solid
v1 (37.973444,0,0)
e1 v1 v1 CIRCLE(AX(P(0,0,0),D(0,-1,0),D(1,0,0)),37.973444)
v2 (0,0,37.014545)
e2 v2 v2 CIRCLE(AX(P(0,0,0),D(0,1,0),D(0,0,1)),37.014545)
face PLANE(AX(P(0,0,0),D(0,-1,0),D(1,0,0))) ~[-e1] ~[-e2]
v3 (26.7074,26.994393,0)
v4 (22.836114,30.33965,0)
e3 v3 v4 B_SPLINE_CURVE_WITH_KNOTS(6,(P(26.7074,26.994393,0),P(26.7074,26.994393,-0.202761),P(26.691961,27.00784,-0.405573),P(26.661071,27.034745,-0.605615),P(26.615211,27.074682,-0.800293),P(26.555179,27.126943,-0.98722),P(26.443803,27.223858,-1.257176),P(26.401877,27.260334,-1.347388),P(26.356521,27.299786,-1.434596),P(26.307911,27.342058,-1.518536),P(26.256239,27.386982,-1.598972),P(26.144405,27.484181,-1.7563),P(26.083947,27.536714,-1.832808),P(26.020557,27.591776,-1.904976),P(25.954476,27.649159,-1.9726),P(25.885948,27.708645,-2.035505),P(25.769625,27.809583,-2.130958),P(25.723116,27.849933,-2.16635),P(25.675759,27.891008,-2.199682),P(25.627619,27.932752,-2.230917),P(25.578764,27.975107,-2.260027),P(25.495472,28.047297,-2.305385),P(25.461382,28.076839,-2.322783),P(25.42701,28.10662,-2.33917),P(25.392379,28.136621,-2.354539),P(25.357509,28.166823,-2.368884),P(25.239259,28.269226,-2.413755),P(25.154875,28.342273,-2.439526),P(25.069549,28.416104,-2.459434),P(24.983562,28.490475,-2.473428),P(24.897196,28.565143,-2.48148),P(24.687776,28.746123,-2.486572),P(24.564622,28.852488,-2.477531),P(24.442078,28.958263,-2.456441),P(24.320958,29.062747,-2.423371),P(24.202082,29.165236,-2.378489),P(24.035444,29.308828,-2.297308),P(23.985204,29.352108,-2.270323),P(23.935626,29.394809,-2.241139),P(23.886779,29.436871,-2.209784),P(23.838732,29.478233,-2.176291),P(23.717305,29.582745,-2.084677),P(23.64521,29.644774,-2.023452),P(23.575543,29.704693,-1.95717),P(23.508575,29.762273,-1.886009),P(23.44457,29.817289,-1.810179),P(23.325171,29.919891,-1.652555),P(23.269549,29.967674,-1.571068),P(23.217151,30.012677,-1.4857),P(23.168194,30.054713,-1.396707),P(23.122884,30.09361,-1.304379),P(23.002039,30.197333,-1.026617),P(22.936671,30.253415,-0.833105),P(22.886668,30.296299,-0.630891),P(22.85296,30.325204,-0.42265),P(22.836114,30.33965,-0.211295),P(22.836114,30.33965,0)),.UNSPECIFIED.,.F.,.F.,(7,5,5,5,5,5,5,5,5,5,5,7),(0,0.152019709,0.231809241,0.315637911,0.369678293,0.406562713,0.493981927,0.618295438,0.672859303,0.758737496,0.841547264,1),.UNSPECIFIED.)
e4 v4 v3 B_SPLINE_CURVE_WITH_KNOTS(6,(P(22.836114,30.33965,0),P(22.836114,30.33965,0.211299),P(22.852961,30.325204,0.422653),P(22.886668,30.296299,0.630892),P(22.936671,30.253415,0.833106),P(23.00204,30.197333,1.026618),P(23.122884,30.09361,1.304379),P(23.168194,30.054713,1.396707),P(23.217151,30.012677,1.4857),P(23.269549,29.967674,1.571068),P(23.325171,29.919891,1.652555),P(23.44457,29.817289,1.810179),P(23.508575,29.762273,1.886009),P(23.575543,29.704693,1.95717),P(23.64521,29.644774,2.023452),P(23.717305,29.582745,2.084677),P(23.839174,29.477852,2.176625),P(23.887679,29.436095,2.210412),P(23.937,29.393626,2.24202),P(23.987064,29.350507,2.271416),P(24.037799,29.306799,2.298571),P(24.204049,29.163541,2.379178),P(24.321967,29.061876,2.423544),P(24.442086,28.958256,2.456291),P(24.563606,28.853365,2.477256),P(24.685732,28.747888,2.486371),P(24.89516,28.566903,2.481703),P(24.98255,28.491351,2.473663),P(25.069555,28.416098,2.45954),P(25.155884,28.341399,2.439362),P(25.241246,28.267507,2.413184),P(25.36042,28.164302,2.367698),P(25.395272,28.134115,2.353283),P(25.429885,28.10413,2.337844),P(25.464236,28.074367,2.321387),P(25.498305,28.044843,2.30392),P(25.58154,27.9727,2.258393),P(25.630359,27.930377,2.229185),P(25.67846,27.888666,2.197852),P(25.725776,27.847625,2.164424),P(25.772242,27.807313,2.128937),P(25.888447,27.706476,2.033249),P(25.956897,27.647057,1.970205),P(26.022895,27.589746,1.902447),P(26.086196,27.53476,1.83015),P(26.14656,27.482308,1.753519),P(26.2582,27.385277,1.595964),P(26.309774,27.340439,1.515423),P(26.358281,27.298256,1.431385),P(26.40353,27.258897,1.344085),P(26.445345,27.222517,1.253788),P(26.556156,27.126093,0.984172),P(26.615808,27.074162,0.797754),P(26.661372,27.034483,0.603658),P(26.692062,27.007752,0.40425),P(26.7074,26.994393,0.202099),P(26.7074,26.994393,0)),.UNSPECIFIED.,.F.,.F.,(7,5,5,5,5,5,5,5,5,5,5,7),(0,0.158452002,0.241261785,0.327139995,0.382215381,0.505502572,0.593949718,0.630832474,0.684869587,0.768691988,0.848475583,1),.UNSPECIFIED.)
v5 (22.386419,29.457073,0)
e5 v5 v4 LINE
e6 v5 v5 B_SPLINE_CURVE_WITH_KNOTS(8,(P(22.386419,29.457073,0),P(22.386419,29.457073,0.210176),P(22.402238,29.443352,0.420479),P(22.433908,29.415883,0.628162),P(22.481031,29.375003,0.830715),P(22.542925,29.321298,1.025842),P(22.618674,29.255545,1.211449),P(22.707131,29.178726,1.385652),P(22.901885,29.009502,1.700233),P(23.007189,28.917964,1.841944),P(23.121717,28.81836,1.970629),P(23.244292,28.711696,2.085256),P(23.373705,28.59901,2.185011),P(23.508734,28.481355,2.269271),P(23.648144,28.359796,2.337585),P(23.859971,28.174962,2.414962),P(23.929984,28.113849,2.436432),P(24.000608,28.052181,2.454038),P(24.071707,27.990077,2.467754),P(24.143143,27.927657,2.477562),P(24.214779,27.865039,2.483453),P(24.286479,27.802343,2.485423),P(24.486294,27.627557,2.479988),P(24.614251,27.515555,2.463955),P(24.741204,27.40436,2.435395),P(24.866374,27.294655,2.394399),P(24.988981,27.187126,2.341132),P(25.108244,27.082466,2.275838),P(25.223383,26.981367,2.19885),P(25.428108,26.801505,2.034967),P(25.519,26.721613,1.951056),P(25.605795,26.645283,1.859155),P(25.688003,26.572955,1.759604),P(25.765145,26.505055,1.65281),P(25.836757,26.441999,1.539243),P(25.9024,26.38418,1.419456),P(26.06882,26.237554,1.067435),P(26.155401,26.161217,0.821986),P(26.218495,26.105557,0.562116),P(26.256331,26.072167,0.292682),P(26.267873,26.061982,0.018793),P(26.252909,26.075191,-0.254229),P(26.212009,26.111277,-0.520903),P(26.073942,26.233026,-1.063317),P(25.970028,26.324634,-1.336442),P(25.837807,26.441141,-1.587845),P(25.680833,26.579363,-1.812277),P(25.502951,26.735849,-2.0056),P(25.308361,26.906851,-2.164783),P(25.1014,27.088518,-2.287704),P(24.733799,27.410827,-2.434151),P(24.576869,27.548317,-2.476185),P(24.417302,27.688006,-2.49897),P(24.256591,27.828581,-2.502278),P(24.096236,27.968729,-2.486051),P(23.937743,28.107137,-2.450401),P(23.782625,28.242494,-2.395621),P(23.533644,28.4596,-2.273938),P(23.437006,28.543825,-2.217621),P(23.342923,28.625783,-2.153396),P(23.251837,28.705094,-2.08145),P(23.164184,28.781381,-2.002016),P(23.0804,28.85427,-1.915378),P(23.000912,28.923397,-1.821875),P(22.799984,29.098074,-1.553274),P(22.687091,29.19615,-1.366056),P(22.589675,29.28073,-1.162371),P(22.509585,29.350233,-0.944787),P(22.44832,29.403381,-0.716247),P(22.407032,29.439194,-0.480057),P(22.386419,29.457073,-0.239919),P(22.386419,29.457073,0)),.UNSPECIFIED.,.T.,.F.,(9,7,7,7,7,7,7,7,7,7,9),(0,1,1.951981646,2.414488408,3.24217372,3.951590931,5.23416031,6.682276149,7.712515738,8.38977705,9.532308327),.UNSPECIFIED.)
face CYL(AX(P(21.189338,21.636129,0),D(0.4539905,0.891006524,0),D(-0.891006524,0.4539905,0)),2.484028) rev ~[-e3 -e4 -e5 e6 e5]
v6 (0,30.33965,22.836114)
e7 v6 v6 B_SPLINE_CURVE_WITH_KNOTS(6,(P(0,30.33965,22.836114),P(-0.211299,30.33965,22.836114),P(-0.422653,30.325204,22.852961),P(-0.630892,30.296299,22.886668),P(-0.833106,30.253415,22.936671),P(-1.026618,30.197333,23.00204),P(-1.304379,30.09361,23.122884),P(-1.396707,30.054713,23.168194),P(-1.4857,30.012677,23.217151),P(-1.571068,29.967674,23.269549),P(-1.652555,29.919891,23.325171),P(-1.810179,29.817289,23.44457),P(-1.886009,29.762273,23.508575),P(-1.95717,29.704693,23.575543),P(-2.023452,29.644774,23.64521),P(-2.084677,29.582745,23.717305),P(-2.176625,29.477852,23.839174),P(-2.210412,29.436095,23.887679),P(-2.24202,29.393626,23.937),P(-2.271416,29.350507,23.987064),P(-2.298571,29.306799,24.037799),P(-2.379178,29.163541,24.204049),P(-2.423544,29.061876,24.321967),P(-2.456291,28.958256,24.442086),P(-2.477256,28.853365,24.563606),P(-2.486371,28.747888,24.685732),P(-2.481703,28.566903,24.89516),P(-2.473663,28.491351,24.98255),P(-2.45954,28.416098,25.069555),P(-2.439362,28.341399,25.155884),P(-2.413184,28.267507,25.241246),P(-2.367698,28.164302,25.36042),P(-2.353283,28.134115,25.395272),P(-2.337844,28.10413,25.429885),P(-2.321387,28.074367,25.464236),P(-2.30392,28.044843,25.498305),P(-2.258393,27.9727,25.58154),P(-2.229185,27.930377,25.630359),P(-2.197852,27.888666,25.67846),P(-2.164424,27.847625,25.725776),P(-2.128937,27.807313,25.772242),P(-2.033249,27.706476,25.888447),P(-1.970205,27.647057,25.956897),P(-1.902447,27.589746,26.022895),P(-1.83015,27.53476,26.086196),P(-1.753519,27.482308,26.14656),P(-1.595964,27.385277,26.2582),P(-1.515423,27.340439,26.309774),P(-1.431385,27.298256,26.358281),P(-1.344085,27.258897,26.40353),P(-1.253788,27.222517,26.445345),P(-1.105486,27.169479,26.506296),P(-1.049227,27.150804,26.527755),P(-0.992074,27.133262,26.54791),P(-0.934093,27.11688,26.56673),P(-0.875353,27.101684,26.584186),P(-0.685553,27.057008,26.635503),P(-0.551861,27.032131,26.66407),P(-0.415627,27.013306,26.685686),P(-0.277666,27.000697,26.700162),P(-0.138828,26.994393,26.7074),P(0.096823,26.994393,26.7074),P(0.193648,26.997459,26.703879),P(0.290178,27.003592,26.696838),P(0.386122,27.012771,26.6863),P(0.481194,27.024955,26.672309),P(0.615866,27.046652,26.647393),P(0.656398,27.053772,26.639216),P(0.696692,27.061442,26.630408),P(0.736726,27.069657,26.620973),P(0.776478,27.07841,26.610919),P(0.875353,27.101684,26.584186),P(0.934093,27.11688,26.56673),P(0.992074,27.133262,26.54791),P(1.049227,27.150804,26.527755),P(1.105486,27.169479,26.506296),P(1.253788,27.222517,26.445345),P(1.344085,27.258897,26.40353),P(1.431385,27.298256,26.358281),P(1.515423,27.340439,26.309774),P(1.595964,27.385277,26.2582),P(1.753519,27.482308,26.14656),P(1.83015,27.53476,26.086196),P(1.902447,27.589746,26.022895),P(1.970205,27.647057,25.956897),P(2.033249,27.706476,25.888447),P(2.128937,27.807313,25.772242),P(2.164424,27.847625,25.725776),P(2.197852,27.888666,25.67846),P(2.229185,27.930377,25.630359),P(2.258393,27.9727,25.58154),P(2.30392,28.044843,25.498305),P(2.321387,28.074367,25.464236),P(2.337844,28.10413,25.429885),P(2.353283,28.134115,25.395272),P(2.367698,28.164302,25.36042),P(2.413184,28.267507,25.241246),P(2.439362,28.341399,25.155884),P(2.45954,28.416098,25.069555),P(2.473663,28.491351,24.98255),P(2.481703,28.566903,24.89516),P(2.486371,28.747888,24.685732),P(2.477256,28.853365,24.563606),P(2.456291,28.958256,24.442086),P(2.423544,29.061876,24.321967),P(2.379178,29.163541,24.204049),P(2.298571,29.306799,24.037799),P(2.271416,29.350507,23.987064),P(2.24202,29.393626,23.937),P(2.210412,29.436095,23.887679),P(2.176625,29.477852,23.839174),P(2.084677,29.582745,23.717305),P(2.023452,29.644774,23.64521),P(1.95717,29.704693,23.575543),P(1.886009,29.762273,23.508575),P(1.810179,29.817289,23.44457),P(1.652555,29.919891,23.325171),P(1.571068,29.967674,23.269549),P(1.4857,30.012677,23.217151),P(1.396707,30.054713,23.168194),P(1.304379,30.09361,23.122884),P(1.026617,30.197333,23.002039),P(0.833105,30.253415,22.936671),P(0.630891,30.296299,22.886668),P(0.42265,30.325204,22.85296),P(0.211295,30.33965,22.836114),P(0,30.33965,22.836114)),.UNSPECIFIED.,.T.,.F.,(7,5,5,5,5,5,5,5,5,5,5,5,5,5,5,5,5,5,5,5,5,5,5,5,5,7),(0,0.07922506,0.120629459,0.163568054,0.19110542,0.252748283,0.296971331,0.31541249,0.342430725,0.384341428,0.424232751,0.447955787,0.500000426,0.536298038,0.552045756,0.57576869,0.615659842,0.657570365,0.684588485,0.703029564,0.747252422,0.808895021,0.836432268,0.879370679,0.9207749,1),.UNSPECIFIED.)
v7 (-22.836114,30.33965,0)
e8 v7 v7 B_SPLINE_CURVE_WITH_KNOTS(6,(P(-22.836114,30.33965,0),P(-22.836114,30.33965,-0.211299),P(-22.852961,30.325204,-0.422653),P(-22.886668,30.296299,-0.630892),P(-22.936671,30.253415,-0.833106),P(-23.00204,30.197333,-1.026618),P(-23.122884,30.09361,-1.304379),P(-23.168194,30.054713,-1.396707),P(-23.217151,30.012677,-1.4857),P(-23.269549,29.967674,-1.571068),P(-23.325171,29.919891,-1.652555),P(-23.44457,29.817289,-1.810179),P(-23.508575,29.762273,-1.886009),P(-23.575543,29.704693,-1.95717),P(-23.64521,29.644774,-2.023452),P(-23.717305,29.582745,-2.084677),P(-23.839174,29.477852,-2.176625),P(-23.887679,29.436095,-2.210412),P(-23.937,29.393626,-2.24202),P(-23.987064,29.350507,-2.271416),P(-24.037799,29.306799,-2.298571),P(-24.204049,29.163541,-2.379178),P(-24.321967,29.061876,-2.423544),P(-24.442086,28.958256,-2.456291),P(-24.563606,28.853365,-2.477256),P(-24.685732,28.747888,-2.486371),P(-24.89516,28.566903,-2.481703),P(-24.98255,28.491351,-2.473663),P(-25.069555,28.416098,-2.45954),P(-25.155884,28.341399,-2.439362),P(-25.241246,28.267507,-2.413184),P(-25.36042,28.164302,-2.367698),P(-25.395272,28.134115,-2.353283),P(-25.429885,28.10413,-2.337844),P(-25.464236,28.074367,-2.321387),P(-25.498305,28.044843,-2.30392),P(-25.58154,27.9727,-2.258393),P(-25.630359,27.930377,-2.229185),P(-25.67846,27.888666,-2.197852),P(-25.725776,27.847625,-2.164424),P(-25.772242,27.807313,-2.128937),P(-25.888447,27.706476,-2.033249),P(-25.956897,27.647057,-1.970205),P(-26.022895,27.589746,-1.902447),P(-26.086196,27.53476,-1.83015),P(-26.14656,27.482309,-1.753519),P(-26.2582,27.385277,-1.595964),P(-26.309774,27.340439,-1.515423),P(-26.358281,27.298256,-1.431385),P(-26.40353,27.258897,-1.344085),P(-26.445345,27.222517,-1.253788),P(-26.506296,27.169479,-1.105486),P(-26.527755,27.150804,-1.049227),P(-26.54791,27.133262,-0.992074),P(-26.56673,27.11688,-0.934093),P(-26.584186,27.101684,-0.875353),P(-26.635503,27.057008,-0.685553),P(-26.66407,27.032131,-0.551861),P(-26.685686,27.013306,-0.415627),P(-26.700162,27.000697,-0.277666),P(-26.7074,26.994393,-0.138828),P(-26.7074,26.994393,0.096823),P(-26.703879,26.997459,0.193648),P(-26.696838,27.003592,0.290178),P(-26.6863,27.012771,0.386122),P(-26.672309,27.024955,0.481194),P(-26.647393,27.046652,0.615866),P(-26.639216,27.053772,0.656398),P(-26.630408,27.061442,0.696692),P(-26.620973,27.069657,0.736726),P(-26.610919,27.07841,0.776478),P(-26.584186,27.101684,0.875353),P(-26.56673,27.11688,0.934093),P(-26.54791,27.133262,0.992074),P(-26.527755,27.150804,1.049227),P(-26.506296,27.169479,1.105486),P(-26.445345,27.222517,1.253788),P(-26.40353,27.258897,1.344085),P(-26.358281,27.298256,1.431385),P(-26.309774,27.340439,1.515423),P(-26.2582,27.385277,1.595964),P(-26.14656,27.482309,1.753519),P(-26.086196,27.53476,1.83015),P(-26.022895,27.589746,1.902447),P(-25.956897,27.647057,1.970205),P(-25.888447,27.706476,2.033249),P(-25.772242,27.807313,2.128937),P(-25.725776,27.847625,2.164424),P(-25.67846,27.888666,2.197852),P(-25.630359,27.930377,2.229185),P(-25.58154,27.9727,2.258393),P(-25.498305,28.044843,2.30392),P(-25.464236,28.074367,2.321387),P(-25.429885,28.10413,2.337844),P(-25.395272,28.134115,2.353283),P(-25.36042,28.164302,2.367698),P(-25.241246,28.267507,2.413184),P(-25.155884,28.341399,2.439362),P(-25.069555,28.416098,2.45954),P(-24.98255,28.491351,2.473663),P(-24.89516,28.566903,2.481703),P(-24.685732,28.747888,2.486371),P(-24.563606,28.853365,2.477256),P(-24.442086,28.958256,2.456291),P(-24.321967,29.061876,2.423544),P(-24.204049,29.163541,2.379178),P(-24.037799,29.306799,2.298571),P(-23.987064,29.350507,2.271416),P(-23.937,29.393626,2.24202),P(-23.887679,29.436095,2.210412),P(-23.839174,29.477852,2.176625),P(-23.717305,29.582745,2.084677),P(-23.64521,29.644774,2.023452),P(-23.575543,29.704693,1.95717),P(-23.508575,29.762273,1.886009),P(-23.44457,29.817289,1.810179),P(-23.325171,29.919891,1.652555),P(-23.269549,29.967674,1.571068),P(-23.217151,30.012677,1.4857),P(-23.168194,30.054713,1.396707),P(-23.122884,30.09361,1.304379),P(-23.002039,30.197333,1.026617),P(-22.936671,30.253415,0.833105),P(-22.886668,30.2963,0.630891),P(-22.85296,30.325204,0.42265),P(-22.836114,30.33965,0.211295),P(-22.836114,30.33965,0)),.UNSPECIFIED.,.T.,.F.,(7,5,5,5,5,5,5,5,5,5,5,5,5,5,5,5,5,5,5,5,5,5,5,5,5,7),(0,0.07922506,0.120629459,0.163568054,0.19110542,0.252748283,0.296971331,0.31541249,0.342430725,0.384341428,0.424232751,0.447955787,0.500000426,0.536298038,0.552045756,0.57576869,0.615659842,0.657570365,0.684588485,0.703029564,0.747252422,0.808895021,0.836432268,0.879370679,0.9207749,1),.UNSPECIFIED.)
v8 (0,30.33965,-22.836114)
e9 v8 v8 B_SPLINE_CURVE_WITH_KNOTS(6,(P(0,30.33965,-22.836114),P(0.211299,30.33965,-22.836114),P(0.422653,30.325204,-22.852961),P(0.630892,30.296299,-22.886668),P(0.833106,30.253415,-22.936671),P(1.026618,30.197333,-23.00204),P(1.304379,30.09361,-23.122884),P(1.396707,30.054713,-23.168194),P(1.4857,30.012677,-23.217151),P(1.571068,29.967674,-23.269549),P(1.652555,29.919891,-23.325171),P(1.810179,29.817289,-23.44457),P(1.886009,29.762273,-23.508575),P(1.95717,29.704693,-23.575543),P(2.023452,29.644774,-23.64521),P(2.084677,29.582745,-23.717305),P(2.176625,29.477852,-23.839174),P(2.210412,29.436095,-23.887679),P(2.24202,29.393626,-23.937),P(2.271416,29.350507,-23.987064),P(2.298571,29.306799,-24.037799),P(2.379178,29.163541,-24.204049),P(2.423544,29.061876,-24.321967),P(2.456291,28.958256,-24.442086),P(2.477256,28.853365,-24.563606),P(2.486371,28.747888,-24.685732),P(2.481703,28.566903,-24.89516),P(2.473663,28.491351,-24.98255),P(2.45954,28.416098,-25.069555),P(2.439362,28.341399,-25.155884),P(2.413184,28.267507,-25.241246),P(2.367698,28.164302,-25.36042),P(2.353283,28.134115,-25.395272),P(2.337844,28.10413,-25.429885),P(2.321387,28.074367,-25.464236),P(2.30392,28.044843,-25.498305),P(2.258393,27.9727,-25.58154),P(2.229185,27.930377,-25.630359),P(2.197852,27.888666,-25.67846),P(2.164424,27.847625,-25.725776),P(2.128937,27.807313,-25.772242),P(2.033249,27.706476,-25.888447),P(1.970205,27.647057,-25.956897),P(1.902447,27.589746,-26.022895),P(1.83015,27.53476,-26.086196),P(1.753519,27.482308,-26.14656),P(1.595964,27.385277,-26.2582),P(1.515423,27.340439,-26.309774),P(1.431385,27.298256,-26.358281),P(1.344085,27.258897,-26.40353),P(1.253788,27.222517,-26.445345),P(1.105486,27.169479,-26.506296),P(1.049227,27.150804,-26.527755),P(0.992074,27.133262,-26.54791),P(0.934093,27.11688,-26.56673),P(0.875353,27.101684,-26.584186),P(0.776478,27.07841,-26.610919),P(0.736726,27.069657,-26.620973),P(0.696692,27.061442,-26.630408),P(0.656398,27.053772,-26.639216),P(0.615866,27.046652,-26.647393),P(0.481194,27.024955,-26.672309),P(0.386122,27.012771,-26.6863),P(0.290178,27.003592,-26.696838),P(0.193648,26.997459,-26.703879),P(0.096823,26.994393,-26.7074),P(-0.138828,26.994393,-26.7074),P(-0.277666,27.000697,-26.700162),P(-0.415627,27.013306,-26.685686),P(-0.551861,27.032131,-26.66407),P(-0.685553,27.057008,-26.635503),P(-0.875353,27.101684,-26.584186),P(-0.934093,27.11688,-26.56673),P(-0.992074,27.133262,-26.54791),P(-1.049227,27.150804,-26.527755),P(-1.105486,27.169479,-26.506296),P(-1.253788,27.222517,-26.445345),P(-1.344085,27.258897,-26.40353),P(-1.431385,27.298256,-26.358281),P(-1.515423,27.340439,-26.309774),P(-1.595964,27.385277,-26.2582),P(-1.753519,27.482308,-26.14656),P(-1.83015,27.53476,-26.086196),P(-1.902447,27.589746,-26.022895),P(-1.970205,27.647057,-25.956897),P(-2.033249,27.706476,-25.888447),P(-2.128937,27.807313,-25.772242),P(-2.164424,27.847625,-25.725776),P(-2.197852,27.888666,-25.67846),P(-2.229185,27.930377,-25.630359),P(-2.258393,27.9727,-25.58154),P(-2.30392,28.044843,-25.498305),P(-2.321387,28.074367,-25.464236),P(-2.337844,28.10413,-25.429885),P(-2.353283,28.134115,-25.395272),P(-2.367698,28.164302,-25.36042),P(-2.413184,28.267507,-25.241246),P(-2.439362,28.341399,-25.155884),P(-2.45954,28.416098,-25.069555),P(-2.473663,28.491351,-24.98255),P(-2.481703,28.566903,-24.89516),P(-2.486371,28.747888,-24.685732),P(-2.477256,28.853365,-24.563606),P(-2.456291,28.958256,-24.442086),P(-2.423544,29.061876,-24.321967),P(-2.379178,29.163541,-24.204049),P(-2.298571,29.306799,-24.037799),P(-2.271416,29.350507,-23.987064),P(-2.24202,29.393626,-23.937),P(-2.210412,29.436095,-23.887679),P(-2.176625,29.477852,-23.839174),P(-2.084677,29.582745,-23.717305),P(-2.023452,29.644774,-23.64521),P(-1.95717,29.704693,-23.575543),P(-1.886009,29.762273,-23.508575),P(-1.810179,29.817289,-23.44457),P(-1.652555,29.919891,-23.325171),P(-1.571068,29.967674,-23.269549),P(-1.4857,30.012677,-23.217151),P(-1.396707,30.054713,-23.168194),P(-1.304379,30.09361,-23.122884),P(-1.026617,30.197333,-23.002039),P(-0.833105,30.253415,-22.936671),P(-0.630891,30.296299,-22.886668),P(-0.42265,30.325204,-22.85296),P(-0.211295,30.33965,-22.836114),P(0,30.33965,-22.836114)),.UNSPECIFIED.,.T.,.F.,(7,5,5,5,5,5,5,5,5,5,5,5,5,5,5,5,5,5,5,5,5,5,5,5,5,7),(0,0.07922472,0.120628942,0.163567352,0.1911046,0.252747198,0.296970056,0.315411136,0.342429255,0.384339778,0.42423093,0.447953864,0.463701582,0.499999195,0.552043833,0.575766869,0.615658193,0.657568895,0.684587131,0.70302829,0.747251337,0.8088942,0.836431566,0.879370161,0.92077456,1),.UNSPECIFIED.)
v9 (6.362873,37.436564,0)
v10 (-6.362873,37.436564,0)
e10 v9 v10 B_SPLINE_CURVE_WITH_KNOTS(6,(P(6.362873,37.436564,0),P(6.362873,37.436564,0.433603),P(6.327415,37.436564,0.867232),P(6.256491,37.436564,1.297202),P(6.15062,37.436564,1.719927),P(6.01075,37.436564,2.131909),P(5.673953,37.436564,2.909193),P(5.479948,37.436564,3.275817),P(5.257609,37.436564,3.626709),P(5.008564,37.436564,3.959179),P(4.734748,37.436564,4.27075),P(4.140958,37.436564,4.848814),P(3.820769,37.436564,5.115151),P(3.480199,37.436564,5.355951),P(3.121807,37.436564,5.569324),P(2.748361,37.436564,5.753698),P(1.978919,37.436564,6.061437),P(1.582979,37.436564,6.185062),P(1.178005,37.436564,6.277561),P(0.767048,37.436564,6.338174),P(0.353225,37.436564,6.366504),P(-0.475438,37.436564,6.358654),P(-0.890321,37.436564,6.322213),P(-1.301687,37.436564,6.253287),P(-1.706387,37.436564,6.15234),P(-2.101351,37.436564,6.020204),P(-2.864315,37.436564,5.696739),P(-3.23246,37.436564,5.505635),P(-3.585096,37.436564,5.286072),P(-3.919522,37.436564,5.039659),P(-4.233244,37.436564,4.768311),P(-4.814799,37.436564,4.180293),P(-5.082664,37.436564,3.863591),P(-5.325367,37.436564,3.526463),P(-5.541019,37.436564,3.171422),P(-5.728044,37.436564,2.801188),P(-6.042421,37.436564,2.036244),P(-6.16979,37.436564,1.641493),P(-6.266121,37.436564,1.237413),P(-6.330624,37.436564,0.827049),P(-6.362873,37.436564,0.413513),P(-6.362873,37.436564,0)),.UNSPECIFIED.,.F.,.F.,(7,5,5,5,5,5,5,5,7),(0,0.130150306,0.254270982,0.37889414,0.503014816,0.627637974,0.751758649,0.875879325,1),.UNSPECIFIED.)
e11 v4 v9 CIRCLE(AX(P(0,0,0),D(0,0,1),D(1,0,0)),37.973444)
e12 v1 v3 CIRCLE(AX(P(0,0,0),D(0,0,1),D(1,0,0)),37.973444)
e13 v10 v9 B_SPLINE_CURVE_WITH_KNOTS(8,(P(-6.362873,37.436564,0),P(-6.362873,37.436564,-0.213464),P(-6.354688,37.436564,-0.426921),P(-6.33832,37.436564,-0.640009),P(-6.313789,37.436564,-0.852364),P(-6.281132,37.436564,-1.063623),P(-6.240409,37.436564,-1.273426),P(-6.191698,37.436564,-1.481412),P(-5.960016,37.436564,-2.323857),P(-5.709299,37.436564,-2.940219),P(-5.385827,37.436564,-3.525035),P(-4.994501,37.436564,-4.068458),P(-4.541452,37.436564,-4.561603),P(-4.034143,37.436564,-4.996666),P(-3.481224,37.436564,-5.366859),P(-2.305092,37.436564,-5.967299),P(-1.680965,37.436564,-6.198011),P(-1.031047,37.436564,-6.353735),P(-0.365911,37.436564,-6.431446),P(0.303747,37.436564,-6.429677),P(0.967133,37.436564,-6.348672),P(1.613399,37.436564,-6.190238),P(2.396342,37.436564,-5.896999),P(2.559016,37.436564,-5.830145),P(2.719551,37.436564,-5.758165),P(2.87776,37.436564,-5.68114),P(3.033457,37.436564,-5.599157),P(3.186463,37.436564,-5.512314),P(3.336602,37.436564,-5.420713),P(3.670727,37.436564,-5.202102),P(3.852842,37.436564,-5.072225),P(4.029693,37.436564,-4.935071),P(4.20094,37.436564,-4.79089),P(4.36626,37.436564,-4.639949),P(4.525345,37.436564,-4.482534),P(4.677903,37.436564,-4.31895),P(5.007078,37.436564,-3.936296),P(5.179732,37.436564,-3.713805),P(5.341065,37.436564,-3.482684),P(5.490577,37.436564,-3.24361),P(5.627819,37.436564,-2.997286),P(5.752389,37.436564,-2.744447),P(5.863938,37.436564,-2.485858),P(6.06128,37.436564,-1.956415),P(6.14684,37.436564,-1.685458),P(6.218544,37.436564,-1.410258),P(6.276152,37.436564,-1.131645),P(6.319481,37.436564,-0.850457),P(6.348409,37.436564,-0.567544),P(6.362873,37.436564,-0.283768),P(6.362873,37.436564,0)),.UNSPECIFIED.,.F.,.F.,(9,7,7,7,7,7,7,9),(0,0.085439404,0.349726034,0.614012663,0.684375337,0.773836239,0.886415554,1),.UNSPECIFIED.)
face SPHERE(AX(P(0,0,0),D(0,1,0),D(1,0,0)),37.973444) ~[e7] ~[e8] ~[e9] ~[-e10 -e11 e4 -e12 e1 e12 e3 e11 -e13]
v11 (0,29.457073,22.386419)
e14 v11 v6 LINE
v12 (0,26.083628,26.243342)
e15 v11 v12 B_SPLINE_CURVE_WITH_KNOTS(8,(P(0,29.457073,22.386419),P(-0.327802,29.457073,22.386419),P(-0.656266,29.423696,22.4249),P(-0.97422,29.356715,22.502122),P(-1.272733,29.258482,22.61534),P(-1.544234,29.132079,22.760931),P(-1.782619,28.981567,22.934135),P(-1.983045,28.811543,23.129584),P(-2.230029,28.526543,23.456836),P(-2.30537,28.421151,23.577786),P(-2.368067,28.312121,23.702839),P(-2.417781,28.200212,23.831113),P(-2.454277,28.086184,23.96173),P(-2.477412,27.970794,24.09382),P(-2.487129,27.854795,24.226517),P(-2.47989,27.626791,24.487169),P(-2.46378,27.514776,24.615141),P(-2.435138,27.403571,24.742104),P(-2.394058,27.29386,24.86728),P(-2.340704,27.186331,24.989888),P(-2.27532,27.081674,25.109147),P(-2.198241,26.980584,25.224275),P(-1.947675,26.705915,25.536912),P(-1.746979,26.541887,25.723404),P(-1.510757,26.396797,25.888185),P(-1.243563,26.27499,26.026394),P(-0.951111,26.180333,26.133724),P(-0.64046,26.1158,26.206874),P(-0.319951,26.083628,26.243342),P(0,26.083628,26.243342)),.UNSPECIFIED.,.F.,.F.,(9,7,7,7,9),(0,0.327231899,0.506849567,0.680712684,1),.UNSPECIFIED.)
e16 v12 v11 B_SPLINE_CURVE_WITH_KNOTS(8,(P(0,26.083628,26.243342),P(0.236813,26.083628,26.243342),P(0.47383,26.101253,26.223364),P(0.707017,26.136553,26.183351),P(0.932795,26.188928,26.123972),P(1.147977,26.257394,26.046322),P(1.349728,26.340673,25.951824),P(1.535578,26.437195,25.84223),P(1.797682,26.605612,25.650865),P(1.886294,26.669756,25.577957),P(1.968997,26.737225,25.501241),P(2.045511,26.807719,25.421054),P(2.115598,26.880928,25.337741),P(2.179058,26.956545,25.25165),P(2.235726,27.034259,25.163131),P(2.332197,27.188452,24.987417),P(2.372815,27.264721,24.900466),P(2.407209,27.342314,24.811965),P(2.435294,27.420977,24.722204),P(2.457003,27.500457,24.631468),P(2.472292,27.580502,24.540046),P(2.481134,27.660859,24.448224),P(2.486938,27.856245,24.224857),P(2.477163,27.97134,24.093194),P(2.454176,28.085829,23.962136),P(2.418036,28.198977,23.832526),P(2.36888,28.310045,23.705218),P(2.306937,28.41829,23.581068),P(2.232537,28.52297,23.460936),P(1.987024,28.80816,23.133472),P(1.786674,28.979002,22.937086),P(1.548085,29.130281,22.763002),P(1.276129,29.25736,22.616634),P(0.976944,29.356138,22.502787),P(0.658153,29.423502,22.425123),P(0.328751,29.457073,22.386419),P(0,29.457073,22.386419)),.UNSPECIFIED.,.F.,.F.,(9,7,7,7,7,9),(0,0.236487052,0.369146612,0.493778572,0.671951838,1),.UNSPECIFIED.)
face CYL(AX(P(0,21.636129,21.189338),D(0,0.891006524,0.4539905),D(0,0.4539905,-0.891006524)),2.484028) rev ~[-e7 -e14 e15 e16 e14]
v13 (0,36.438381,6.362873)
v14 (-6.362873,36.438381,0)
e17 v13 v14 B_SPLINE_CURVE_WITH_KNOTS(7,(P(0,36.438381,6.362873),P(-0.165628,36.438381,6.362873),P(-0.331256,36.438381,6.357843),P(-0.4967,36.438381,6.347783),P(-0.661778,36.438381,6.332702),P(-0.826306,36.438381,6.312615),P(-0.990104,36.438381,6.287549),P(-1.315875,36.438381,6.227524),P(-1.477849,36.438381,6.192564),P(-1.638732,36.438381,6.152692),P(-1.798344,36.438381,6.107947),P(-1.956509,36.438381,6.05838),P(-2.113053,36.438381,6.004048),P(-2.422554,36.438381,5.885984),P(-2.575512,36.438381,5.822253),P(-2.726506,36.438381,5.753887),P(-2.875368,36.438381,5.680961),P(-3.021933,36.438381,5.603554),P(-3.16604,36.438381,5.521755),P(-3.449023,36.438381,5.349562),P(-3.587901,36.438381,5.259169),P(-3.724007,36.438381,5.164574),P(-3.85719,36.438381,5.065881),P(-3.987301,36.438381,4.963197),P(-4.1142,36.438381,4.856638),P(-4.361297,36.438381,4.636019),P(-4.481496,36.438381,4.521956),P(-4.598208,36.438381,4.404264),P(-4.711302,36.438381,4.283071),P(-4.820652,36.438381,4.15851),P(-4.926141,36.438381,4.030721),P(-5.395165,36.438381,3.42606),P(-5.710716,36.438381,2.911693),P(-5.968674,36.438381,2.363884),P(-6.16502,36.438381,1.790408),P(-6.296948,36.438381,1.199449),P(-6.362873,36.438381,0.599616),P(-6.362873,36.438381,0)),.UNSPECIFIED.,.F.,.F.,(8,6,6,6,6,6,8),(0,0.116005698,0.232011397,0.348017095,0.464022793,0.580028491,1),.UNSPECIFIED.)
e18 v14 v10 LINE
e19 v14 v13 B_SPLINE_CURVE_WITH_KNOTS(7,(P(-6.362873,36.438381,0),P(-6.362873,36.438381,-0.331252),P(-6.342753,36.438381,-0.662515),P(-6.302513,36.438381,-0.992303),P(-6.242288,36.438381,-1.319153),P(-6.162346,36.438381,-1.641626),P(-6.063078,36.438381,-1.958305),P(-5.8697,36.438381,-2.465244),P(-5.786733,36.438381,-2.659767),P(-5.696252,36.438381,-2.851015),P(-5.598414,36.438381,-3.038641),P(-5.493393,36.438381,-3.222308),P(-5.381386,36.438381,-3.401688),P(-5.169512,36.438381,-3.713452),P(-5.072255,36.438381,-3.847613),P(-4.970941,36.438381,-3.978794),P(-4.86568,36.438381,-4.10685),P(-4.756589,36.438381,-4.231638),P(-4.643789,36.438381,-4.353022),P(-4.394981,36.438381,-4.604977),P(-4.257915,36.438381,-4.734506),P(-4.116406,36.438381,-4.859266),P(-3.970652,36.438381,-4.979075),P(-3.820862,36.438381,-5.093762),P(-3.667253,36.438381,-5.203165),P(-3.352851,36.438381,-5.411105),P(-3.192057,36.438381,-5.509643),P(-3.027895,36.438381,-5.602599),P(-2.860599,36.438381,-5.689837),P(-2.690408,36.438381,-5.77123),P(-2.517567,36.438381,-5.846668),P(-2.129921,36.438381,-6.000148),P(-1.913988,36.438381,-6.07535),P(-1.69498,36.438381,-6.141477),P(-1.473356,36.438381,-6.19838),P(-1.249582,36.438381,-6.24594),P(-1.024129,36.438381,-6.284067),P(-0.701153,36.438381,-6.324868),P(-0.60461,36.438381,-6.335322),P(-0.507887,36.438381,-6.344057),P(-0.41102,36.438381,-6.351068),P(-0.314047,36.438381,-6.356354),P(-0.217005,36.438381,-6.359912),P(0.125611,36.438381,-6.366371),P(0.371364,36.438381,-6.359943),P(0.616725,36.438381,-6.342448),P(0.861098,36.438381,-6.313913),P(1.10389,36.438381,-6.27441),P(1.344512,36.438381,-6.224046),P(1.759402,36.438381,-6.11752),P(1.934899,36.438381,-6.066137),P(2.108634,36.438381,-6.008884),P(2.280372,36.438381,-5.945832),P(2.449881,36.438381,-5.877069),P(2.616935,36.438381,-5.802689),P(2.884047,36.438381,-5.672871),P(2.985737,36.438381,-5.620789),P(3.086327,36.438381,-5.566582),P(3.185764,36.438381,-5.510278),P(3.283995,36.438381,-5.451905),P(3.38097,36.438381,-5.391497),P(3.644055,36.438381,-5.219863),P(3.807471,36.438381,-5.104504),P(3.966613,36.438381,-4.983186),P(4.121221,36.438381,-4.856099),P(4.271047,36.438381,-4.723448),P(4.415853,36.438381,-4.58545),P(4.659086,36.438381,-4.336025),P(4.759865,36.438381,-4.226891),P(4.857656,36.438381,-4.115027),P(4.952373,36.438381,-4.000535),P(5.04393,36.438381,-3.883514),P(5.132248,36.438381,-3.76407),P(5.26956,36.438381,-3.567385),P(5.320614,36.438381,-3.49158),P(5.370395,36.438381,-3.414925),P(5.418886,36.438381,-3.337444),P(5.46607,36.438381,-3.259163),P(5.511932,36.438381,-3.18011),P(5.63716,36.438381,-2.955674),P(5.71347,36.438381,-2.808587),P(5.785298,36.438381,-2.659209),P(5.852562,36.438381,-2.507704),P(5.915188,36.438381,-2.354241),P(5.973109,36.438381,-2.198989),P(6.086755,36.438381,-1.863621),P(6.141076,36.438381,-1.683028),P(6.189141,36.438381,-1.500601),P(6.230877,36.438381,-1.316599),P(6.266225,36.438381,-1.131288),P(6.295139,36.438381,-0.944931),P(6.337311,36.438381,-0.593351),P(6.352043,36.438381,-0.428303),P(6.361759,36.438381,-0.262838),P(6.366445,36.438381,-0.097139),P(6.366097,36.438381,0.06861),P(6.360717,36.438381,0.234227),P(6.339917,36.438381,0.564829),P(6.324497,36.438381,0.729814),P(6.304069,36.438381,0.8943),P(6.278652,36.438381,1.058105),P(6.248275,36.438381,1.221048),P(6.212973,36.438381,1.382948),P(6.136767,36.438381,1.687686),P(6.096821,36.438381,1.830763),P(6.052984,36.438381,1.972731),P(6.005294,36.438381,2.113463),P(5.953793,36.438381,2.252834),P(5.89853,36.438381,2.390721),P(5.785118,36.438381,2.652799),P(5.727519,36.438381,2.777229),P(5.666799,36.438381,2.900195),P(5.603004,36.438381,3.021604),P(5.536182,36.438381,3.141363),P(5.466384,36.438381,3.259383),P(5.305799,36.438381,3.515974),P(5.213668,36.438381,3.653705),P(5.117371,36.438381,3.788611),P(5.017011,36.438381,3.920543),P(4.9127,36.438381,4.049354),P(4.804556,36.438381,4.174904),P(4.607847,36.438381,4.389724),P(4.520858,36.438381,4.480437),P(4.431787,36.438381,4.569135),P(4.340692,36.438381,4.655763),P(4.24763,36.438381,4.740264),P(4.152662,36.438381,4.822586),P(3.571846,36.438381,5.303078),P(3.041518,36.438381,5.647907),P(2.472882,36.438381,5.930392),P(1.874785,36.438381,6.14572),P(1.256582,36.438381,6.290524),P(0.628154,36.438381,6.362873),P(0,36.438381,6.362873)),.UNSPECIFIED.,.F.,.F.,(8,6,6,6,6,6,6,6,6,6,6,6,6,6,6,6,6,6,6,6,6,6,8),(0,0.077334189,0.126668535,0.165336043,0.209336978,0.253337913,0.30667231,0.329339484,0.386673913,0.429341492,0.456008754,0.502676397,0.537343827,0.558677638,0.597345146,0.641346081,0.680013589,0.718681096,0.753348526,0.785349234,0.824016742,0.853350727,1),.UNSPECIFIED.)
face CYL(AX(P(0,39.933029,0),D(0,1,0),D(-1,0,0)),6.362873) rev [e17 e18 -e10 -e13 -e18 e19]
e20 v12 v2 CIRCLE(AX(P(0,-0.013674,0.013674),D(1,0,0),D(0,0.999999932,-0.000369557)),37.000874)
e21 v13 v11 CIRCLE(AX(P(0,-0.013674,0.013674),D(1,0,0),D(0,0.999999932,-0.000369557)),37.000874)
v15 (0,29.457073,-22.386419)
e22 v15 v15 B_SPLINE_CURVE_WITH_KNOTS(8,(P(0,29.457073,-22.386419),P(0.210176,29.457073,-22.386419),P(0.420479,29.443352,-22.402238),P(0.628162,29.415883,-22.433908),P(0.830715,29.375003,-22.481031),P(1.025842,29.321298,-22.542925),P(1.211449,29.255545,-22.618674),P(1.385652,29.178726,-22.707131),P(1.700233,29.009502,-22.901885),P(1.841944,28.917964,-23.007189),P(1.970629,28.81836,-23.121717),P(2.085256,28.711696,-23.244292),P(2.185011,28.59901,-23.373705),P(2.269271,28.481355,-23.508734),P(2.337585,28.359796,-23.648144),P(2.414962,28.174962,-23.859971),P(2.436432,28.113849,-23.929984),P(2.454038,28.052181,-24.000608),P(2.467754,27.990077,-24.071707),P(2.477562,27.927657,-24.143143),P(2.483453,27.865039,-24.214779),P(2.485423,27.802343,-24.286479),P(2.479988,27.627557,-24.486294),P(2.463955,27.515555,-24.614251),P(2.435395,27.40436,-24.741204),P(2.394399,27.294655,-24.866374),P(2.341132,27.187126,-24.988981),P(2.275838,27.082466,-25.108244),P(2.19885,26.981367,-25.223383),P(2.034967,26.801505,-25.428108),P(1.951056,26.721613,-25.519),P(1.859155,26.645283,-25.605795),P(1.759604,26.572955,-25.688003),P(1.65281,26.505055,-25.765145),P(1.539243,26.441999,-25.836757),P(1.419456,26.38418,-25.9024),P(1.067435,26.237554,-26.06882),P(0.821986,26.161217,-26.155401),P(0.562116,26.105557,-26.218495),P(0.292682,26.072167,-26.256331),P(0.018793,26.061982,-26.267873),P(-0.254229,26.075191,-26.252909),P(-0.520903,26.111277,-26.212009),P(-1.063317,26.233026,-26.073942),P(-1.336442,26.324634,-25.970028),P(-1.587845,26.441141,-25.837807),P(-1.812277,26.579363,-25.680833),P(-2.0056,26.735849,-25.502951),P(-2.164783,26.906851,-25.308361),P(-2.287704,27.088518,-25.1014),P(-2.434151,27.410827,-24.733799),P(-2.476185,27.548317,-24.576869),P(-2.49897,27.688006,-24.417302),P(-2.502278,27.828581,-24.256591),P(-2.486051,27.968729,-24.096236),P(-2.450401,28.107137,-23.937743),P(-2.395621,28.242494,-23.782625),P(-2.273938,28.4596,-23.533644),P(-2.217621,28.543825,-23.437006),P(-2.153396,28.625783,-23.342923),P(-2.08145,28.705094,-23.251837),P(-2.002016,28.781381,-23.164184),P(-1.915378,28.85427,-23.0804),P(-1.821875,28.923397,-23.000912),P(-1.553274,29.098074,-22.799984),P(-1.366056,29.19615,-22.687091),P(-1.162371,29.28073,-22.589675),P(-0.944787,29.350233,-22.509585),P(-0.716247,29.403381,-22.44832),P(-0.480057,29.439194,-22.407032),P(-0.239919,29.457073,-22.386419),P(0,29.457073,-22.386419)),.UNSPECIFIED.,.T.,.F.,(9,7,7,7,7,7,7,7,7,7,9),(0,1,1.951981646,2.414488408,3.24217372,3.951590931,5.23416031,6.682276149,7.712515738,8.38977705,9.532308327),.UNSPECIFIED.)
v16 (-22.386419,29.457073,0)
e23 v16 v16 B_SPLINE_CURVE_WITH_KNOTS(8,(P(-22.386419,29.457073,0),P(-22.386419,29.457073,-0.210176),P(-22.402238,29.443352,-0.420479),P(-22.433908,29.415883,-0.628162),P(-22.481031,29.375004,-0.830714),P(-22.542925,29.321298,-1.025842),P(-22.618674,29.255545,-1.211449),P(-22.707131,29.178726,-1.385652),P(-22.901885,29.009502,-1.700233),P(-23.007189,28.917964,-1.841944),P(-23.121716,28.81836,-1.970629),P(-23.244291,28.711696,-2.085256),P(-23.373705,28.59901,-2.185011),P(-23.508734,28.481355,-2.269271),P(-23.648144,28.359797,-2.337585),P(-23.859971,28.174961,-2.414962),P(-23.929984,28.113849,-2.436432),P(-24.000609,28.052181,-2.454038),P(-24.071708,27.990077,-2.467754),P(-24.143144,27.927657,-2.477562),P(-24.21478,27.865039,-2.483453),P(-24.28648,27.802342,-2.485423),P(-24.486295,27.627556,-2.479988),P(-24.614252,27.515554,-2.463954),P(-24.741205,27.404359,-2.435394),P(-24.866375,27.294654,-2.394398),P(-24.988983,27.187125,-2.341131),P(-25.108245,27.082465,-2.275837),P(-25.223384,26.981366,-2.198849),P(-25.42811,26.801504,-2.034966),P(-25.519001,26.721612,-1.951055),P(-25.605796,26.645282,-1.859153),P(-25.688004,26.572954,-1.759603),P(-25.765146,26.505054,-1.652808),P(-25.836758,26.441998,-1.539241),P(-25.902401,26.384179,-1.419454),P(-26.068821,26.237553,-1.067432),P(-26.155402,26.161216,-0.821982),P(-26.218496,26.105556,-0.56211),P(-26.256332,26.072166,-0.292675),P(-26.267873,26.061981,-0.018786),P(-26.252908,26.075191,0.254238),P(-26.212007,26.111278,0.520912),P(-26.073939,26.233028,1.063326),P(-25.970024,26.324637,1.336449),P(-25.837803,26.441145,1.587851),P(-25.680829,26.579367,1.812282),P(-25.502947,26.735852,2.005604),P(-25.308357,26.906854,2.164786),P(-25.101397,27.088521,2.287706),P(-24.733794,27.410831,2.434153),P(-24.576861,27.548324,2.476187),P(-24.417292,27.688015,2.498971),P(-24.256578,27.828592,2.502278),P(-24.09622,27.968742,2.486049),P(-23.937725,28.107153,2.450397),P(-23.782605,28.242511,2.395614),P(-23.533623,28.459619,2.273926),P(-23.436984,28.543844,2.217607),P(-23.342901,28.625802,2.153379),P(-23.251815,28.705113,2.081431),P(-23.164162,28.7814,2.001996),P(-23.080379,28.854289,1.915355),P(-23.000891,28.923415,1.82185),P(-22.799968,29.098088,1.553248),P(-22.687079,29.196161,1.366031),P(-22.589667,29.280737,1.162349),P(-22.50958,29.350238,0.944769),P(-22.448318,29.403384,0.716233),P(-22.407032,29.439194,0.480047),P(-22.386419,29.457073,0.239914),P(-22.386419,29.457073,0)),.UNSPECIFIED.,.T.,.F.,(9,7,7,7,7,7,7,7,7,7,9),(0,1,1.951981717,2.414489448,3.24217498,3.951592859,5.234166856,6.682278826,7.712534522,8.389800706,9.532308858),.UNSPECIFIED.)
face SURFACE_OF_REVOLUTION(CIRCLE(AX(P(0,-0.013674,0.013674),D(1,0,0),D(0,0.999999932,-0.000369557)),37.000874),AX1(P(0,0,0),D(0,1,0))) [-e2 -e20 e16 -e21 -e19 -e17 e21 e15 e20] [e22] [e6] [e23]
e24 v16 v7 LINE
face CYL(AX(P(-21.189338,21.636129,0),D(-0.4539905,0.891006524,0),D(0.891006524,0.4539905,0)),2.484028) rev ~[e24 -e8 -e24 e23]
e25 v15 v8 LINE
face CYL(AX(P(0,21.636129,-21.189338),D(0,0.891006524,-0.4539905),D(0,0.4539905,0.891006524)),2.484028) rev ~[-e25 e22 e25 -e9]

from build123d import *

# Parameters (mm, degrees)
SKETCH21_W                  = 2.484027853
SKETCH21_H                  = 35.042476462
CIRPATTERN4_COUNT           = 2
CIRPATTERN4_ANGLE           = 27
CIRPATTERN5_COPY_1_SKETCH_W = 2.484027853
CIRPATTERN5_COPY_1_SKETCH_H = 35.042476462
CIRPATTERN5_COPY_2_SKETCH_W = 2.484027853
CIRPATTERN5_COPY_2_SKETCH_H = 35.042476462
CIRPATTERN5_COPY_3_SKETCH_W = 2.484027853
CIRPATTERN5_COPY_3_SKETCH_H = 35.042476462
CIRPATTERN5_COPY_4_SKETCH_W = 2.484027853
CIRPATTERN5_COPY_4_SKETCH_H = 35.042476462
CIRPATTERN5_COPY_5_SKETCH_W = 2.484027853
CIRPATTERN5_COPY_5_SKETCH_H = 35.042476462
CIRPATTERN5_COPY_6_SKETCH_W = 2.484027853
CIRPATTERN5_COPY_6_SKETCH_H = 35.042476462
SKETCH16_W                  = 6.362872572
SKETCH16_H                  = 12.097313285


with BuildPart() as part:
    # Sketch6 → Revolve3 (revolve)
    with BuildSketch(Plane.XY):
        with BuildLine():
            Line((0, 37.973444165), (0, 0))
            Line((0, 0), (37.973444165, 0))
            ThreePointArc((37.973444165, 0), (26.851279874, 26.851279874), (0, 37.973444165))
        make_face()
    revolve(axis=Axis((0, 37.973444165, 0), (0, -1, 0)))

    # Sketch21 → Cut-Revolve16 (revolve, cut)
    with BuildSketch(Plane.XY):
        with Locations((1.242013927, 26.723238857)):
            Rectangle(SKETCH21_W, SKETCH21_H)
    cut_revolve16 = revolve(axis=Axis((0, 0, 0), (0, 1, 0)), mode=Mode.SUBTRACT)

    # CirPattern4: Cut-Revolve16 ×2 about axis
    cirpattern4_axis = Axis((0, -19.950289218, 0), (0, 0, 1))
    for i in range(1, CIRPATTERN4_COUNT):
        add(cut_revolve16.rotate(cirpattern4_axis, i * CIRPATTERN4_ANGLE / (CIRPATTERN4_COUNT - 1)), mode=Mode.SUBTRACT)

    # CirPattern5 copy 1 sketch → CirPattern5 copy 1 (revolve, cut)
    with BuildSketch(Plane(origin=(0, -2.174451365, -9.057241772), x_dir=(0, 0.45399049973954775, 0.8910065241883673), z_dir=(-1, 0, 0))):
        with Locations((1.242013927, 26.723238857)):
            Rectangle(CIRPATTERN5_COPY_1_SKETCH_W, CIRPATTERN5_COPY_1_SKETCH_H)
    revolve(axis=Axis((0, -2.174451365, -9.057241772), (0, 0.8910065241883673, -0.45399049973954775)), mode=Mode.SUBTRACT)

    # CirPattern5 copy 2 sketch → CirPattern5 copy 2 (revolve, cut)
    with BuildSketch(Plane(origin=(9.057241772, -2.174451365, 0), x_dir=(-0.8910065241883673, 0.45399049973954775, 0), z_dir=(0, 0, -1))):
        with Locations((1.242013927, 26.723238857)):
            Rectangle(CIRPATTERN5_COPY_2_SKETCH_W, CIRPATTERN5_COPY_2_SKETCH_H)
    revolve(axis=Axis((9.057241772, -2.174451365, 0), (0.45399049973954775, 0.8910065241883673, 0)), mode=Mode.SUBTRACT)

    # CirPattern5 copy 3 sketch → CirPattern5 copy 3 (revolve, cut)
    with BuildSketch(Plane(origin=(0, -2.174451365, 9.057241772), x_dir=(0, 0.45399049973954775, -0.8910065241883673), z_dir=(1, 0, 0))):
        with Locations((1.242013927, 26.723238857)):
            Rectangle(CIRPATTERN5_COPY_3_SKETCH_W, CIRPATTERN5_COPY_3_SKETCH_H)
    revolve(axis=Axis((0, -2.174451365, 9.057241772), (0, 0.8910065241883673, 0.45399049973954775)), mode=Mode.SUBTRACT)

    # CirPattern5 copy 4 sketch → CirPattern5 copy 4 (revolve, cut)
    with BuildSketch(Plane.ZY):
        with Locations((1.242013927, 26.723238857)):
            Rectangle(CIRPATTERN5_COPY_4_SKETCH_W, CIRPATTERN5_COPY_4_SKETCH_H)
    revolve(axis=Axis((0, 0, 0), (0, 1, 0)), mode=Mode.SUBTRACT)

    # CirPattern5 copy 5 sketch → CirPattern5 copy 5 (revolve, cut)
    with BuildSketch(Plane(origin=(0, 0, 0), x_dir=(-1, 0, 0), z_dir=(0, 0, -1))):
        with Locations((1.242013927, 26.723238857)):
            Rectangle(CIRPATTERN5_COPY_5_SKETCH_W, CIRPATTERN5_COPY_5_SKETCH_H)
    revolve(axis=Axis((0, 0, 0), (0, 1, 0)), mode=Mode.SUBTRACT)

    # CirPattern5 copy 6 sketch → CirPattern5 copy 6 (revolve, cut)
    with BuildSketch(Plane(origin=(0, 0, 0), x_dir=(0, 0, -1), z_dir=(1, 0, 0))):
        with Locations((1.242013927, 26.723238857)):
            Rectangle(CIRPATTERN5_COPY_6_SKETCH_W, CIRPATTERN5_COPY_6_SKETCH_H)
    revolve(axis=Axis((0, 0, 0), (0, 1, 0)), mode=Mode.SUBTRACT)

    # Sketch22 → Cut-Revolve17 (revolve, cut)
    with BuildSketch(Plane(origin=(0, 0, 0), x_dir=(0, 0, -1), z_dir=(1, 0, 0))):
        with BuildLine():
            Line((0, 0), (0, 36.987197209))
            ThreePointArc((0, 36.987197209), (-26.167571908, 26.159561897), (-37.014545099, 0))
            Line((-37.014545099, 0), (0, 0))
        make_face()
    revolve(axis=Axis((0, 0, 0), (0, 1, 0)), mode=Mode.SUBTRACT)

    # Sketch16 → Cut-Revolve18 (revolve, cut)
    with BuildSketch(Plane.XY):
        with Locations((-3.181436286, 39.933029211)):
            Rectangle(SKETCH16_W, SKETCH16_H)
    revolve(axis=Axis((0, 45.981685853, 0), (0, -1, 0)), mode=Mode.SUBTRACT)


solid = part.part
